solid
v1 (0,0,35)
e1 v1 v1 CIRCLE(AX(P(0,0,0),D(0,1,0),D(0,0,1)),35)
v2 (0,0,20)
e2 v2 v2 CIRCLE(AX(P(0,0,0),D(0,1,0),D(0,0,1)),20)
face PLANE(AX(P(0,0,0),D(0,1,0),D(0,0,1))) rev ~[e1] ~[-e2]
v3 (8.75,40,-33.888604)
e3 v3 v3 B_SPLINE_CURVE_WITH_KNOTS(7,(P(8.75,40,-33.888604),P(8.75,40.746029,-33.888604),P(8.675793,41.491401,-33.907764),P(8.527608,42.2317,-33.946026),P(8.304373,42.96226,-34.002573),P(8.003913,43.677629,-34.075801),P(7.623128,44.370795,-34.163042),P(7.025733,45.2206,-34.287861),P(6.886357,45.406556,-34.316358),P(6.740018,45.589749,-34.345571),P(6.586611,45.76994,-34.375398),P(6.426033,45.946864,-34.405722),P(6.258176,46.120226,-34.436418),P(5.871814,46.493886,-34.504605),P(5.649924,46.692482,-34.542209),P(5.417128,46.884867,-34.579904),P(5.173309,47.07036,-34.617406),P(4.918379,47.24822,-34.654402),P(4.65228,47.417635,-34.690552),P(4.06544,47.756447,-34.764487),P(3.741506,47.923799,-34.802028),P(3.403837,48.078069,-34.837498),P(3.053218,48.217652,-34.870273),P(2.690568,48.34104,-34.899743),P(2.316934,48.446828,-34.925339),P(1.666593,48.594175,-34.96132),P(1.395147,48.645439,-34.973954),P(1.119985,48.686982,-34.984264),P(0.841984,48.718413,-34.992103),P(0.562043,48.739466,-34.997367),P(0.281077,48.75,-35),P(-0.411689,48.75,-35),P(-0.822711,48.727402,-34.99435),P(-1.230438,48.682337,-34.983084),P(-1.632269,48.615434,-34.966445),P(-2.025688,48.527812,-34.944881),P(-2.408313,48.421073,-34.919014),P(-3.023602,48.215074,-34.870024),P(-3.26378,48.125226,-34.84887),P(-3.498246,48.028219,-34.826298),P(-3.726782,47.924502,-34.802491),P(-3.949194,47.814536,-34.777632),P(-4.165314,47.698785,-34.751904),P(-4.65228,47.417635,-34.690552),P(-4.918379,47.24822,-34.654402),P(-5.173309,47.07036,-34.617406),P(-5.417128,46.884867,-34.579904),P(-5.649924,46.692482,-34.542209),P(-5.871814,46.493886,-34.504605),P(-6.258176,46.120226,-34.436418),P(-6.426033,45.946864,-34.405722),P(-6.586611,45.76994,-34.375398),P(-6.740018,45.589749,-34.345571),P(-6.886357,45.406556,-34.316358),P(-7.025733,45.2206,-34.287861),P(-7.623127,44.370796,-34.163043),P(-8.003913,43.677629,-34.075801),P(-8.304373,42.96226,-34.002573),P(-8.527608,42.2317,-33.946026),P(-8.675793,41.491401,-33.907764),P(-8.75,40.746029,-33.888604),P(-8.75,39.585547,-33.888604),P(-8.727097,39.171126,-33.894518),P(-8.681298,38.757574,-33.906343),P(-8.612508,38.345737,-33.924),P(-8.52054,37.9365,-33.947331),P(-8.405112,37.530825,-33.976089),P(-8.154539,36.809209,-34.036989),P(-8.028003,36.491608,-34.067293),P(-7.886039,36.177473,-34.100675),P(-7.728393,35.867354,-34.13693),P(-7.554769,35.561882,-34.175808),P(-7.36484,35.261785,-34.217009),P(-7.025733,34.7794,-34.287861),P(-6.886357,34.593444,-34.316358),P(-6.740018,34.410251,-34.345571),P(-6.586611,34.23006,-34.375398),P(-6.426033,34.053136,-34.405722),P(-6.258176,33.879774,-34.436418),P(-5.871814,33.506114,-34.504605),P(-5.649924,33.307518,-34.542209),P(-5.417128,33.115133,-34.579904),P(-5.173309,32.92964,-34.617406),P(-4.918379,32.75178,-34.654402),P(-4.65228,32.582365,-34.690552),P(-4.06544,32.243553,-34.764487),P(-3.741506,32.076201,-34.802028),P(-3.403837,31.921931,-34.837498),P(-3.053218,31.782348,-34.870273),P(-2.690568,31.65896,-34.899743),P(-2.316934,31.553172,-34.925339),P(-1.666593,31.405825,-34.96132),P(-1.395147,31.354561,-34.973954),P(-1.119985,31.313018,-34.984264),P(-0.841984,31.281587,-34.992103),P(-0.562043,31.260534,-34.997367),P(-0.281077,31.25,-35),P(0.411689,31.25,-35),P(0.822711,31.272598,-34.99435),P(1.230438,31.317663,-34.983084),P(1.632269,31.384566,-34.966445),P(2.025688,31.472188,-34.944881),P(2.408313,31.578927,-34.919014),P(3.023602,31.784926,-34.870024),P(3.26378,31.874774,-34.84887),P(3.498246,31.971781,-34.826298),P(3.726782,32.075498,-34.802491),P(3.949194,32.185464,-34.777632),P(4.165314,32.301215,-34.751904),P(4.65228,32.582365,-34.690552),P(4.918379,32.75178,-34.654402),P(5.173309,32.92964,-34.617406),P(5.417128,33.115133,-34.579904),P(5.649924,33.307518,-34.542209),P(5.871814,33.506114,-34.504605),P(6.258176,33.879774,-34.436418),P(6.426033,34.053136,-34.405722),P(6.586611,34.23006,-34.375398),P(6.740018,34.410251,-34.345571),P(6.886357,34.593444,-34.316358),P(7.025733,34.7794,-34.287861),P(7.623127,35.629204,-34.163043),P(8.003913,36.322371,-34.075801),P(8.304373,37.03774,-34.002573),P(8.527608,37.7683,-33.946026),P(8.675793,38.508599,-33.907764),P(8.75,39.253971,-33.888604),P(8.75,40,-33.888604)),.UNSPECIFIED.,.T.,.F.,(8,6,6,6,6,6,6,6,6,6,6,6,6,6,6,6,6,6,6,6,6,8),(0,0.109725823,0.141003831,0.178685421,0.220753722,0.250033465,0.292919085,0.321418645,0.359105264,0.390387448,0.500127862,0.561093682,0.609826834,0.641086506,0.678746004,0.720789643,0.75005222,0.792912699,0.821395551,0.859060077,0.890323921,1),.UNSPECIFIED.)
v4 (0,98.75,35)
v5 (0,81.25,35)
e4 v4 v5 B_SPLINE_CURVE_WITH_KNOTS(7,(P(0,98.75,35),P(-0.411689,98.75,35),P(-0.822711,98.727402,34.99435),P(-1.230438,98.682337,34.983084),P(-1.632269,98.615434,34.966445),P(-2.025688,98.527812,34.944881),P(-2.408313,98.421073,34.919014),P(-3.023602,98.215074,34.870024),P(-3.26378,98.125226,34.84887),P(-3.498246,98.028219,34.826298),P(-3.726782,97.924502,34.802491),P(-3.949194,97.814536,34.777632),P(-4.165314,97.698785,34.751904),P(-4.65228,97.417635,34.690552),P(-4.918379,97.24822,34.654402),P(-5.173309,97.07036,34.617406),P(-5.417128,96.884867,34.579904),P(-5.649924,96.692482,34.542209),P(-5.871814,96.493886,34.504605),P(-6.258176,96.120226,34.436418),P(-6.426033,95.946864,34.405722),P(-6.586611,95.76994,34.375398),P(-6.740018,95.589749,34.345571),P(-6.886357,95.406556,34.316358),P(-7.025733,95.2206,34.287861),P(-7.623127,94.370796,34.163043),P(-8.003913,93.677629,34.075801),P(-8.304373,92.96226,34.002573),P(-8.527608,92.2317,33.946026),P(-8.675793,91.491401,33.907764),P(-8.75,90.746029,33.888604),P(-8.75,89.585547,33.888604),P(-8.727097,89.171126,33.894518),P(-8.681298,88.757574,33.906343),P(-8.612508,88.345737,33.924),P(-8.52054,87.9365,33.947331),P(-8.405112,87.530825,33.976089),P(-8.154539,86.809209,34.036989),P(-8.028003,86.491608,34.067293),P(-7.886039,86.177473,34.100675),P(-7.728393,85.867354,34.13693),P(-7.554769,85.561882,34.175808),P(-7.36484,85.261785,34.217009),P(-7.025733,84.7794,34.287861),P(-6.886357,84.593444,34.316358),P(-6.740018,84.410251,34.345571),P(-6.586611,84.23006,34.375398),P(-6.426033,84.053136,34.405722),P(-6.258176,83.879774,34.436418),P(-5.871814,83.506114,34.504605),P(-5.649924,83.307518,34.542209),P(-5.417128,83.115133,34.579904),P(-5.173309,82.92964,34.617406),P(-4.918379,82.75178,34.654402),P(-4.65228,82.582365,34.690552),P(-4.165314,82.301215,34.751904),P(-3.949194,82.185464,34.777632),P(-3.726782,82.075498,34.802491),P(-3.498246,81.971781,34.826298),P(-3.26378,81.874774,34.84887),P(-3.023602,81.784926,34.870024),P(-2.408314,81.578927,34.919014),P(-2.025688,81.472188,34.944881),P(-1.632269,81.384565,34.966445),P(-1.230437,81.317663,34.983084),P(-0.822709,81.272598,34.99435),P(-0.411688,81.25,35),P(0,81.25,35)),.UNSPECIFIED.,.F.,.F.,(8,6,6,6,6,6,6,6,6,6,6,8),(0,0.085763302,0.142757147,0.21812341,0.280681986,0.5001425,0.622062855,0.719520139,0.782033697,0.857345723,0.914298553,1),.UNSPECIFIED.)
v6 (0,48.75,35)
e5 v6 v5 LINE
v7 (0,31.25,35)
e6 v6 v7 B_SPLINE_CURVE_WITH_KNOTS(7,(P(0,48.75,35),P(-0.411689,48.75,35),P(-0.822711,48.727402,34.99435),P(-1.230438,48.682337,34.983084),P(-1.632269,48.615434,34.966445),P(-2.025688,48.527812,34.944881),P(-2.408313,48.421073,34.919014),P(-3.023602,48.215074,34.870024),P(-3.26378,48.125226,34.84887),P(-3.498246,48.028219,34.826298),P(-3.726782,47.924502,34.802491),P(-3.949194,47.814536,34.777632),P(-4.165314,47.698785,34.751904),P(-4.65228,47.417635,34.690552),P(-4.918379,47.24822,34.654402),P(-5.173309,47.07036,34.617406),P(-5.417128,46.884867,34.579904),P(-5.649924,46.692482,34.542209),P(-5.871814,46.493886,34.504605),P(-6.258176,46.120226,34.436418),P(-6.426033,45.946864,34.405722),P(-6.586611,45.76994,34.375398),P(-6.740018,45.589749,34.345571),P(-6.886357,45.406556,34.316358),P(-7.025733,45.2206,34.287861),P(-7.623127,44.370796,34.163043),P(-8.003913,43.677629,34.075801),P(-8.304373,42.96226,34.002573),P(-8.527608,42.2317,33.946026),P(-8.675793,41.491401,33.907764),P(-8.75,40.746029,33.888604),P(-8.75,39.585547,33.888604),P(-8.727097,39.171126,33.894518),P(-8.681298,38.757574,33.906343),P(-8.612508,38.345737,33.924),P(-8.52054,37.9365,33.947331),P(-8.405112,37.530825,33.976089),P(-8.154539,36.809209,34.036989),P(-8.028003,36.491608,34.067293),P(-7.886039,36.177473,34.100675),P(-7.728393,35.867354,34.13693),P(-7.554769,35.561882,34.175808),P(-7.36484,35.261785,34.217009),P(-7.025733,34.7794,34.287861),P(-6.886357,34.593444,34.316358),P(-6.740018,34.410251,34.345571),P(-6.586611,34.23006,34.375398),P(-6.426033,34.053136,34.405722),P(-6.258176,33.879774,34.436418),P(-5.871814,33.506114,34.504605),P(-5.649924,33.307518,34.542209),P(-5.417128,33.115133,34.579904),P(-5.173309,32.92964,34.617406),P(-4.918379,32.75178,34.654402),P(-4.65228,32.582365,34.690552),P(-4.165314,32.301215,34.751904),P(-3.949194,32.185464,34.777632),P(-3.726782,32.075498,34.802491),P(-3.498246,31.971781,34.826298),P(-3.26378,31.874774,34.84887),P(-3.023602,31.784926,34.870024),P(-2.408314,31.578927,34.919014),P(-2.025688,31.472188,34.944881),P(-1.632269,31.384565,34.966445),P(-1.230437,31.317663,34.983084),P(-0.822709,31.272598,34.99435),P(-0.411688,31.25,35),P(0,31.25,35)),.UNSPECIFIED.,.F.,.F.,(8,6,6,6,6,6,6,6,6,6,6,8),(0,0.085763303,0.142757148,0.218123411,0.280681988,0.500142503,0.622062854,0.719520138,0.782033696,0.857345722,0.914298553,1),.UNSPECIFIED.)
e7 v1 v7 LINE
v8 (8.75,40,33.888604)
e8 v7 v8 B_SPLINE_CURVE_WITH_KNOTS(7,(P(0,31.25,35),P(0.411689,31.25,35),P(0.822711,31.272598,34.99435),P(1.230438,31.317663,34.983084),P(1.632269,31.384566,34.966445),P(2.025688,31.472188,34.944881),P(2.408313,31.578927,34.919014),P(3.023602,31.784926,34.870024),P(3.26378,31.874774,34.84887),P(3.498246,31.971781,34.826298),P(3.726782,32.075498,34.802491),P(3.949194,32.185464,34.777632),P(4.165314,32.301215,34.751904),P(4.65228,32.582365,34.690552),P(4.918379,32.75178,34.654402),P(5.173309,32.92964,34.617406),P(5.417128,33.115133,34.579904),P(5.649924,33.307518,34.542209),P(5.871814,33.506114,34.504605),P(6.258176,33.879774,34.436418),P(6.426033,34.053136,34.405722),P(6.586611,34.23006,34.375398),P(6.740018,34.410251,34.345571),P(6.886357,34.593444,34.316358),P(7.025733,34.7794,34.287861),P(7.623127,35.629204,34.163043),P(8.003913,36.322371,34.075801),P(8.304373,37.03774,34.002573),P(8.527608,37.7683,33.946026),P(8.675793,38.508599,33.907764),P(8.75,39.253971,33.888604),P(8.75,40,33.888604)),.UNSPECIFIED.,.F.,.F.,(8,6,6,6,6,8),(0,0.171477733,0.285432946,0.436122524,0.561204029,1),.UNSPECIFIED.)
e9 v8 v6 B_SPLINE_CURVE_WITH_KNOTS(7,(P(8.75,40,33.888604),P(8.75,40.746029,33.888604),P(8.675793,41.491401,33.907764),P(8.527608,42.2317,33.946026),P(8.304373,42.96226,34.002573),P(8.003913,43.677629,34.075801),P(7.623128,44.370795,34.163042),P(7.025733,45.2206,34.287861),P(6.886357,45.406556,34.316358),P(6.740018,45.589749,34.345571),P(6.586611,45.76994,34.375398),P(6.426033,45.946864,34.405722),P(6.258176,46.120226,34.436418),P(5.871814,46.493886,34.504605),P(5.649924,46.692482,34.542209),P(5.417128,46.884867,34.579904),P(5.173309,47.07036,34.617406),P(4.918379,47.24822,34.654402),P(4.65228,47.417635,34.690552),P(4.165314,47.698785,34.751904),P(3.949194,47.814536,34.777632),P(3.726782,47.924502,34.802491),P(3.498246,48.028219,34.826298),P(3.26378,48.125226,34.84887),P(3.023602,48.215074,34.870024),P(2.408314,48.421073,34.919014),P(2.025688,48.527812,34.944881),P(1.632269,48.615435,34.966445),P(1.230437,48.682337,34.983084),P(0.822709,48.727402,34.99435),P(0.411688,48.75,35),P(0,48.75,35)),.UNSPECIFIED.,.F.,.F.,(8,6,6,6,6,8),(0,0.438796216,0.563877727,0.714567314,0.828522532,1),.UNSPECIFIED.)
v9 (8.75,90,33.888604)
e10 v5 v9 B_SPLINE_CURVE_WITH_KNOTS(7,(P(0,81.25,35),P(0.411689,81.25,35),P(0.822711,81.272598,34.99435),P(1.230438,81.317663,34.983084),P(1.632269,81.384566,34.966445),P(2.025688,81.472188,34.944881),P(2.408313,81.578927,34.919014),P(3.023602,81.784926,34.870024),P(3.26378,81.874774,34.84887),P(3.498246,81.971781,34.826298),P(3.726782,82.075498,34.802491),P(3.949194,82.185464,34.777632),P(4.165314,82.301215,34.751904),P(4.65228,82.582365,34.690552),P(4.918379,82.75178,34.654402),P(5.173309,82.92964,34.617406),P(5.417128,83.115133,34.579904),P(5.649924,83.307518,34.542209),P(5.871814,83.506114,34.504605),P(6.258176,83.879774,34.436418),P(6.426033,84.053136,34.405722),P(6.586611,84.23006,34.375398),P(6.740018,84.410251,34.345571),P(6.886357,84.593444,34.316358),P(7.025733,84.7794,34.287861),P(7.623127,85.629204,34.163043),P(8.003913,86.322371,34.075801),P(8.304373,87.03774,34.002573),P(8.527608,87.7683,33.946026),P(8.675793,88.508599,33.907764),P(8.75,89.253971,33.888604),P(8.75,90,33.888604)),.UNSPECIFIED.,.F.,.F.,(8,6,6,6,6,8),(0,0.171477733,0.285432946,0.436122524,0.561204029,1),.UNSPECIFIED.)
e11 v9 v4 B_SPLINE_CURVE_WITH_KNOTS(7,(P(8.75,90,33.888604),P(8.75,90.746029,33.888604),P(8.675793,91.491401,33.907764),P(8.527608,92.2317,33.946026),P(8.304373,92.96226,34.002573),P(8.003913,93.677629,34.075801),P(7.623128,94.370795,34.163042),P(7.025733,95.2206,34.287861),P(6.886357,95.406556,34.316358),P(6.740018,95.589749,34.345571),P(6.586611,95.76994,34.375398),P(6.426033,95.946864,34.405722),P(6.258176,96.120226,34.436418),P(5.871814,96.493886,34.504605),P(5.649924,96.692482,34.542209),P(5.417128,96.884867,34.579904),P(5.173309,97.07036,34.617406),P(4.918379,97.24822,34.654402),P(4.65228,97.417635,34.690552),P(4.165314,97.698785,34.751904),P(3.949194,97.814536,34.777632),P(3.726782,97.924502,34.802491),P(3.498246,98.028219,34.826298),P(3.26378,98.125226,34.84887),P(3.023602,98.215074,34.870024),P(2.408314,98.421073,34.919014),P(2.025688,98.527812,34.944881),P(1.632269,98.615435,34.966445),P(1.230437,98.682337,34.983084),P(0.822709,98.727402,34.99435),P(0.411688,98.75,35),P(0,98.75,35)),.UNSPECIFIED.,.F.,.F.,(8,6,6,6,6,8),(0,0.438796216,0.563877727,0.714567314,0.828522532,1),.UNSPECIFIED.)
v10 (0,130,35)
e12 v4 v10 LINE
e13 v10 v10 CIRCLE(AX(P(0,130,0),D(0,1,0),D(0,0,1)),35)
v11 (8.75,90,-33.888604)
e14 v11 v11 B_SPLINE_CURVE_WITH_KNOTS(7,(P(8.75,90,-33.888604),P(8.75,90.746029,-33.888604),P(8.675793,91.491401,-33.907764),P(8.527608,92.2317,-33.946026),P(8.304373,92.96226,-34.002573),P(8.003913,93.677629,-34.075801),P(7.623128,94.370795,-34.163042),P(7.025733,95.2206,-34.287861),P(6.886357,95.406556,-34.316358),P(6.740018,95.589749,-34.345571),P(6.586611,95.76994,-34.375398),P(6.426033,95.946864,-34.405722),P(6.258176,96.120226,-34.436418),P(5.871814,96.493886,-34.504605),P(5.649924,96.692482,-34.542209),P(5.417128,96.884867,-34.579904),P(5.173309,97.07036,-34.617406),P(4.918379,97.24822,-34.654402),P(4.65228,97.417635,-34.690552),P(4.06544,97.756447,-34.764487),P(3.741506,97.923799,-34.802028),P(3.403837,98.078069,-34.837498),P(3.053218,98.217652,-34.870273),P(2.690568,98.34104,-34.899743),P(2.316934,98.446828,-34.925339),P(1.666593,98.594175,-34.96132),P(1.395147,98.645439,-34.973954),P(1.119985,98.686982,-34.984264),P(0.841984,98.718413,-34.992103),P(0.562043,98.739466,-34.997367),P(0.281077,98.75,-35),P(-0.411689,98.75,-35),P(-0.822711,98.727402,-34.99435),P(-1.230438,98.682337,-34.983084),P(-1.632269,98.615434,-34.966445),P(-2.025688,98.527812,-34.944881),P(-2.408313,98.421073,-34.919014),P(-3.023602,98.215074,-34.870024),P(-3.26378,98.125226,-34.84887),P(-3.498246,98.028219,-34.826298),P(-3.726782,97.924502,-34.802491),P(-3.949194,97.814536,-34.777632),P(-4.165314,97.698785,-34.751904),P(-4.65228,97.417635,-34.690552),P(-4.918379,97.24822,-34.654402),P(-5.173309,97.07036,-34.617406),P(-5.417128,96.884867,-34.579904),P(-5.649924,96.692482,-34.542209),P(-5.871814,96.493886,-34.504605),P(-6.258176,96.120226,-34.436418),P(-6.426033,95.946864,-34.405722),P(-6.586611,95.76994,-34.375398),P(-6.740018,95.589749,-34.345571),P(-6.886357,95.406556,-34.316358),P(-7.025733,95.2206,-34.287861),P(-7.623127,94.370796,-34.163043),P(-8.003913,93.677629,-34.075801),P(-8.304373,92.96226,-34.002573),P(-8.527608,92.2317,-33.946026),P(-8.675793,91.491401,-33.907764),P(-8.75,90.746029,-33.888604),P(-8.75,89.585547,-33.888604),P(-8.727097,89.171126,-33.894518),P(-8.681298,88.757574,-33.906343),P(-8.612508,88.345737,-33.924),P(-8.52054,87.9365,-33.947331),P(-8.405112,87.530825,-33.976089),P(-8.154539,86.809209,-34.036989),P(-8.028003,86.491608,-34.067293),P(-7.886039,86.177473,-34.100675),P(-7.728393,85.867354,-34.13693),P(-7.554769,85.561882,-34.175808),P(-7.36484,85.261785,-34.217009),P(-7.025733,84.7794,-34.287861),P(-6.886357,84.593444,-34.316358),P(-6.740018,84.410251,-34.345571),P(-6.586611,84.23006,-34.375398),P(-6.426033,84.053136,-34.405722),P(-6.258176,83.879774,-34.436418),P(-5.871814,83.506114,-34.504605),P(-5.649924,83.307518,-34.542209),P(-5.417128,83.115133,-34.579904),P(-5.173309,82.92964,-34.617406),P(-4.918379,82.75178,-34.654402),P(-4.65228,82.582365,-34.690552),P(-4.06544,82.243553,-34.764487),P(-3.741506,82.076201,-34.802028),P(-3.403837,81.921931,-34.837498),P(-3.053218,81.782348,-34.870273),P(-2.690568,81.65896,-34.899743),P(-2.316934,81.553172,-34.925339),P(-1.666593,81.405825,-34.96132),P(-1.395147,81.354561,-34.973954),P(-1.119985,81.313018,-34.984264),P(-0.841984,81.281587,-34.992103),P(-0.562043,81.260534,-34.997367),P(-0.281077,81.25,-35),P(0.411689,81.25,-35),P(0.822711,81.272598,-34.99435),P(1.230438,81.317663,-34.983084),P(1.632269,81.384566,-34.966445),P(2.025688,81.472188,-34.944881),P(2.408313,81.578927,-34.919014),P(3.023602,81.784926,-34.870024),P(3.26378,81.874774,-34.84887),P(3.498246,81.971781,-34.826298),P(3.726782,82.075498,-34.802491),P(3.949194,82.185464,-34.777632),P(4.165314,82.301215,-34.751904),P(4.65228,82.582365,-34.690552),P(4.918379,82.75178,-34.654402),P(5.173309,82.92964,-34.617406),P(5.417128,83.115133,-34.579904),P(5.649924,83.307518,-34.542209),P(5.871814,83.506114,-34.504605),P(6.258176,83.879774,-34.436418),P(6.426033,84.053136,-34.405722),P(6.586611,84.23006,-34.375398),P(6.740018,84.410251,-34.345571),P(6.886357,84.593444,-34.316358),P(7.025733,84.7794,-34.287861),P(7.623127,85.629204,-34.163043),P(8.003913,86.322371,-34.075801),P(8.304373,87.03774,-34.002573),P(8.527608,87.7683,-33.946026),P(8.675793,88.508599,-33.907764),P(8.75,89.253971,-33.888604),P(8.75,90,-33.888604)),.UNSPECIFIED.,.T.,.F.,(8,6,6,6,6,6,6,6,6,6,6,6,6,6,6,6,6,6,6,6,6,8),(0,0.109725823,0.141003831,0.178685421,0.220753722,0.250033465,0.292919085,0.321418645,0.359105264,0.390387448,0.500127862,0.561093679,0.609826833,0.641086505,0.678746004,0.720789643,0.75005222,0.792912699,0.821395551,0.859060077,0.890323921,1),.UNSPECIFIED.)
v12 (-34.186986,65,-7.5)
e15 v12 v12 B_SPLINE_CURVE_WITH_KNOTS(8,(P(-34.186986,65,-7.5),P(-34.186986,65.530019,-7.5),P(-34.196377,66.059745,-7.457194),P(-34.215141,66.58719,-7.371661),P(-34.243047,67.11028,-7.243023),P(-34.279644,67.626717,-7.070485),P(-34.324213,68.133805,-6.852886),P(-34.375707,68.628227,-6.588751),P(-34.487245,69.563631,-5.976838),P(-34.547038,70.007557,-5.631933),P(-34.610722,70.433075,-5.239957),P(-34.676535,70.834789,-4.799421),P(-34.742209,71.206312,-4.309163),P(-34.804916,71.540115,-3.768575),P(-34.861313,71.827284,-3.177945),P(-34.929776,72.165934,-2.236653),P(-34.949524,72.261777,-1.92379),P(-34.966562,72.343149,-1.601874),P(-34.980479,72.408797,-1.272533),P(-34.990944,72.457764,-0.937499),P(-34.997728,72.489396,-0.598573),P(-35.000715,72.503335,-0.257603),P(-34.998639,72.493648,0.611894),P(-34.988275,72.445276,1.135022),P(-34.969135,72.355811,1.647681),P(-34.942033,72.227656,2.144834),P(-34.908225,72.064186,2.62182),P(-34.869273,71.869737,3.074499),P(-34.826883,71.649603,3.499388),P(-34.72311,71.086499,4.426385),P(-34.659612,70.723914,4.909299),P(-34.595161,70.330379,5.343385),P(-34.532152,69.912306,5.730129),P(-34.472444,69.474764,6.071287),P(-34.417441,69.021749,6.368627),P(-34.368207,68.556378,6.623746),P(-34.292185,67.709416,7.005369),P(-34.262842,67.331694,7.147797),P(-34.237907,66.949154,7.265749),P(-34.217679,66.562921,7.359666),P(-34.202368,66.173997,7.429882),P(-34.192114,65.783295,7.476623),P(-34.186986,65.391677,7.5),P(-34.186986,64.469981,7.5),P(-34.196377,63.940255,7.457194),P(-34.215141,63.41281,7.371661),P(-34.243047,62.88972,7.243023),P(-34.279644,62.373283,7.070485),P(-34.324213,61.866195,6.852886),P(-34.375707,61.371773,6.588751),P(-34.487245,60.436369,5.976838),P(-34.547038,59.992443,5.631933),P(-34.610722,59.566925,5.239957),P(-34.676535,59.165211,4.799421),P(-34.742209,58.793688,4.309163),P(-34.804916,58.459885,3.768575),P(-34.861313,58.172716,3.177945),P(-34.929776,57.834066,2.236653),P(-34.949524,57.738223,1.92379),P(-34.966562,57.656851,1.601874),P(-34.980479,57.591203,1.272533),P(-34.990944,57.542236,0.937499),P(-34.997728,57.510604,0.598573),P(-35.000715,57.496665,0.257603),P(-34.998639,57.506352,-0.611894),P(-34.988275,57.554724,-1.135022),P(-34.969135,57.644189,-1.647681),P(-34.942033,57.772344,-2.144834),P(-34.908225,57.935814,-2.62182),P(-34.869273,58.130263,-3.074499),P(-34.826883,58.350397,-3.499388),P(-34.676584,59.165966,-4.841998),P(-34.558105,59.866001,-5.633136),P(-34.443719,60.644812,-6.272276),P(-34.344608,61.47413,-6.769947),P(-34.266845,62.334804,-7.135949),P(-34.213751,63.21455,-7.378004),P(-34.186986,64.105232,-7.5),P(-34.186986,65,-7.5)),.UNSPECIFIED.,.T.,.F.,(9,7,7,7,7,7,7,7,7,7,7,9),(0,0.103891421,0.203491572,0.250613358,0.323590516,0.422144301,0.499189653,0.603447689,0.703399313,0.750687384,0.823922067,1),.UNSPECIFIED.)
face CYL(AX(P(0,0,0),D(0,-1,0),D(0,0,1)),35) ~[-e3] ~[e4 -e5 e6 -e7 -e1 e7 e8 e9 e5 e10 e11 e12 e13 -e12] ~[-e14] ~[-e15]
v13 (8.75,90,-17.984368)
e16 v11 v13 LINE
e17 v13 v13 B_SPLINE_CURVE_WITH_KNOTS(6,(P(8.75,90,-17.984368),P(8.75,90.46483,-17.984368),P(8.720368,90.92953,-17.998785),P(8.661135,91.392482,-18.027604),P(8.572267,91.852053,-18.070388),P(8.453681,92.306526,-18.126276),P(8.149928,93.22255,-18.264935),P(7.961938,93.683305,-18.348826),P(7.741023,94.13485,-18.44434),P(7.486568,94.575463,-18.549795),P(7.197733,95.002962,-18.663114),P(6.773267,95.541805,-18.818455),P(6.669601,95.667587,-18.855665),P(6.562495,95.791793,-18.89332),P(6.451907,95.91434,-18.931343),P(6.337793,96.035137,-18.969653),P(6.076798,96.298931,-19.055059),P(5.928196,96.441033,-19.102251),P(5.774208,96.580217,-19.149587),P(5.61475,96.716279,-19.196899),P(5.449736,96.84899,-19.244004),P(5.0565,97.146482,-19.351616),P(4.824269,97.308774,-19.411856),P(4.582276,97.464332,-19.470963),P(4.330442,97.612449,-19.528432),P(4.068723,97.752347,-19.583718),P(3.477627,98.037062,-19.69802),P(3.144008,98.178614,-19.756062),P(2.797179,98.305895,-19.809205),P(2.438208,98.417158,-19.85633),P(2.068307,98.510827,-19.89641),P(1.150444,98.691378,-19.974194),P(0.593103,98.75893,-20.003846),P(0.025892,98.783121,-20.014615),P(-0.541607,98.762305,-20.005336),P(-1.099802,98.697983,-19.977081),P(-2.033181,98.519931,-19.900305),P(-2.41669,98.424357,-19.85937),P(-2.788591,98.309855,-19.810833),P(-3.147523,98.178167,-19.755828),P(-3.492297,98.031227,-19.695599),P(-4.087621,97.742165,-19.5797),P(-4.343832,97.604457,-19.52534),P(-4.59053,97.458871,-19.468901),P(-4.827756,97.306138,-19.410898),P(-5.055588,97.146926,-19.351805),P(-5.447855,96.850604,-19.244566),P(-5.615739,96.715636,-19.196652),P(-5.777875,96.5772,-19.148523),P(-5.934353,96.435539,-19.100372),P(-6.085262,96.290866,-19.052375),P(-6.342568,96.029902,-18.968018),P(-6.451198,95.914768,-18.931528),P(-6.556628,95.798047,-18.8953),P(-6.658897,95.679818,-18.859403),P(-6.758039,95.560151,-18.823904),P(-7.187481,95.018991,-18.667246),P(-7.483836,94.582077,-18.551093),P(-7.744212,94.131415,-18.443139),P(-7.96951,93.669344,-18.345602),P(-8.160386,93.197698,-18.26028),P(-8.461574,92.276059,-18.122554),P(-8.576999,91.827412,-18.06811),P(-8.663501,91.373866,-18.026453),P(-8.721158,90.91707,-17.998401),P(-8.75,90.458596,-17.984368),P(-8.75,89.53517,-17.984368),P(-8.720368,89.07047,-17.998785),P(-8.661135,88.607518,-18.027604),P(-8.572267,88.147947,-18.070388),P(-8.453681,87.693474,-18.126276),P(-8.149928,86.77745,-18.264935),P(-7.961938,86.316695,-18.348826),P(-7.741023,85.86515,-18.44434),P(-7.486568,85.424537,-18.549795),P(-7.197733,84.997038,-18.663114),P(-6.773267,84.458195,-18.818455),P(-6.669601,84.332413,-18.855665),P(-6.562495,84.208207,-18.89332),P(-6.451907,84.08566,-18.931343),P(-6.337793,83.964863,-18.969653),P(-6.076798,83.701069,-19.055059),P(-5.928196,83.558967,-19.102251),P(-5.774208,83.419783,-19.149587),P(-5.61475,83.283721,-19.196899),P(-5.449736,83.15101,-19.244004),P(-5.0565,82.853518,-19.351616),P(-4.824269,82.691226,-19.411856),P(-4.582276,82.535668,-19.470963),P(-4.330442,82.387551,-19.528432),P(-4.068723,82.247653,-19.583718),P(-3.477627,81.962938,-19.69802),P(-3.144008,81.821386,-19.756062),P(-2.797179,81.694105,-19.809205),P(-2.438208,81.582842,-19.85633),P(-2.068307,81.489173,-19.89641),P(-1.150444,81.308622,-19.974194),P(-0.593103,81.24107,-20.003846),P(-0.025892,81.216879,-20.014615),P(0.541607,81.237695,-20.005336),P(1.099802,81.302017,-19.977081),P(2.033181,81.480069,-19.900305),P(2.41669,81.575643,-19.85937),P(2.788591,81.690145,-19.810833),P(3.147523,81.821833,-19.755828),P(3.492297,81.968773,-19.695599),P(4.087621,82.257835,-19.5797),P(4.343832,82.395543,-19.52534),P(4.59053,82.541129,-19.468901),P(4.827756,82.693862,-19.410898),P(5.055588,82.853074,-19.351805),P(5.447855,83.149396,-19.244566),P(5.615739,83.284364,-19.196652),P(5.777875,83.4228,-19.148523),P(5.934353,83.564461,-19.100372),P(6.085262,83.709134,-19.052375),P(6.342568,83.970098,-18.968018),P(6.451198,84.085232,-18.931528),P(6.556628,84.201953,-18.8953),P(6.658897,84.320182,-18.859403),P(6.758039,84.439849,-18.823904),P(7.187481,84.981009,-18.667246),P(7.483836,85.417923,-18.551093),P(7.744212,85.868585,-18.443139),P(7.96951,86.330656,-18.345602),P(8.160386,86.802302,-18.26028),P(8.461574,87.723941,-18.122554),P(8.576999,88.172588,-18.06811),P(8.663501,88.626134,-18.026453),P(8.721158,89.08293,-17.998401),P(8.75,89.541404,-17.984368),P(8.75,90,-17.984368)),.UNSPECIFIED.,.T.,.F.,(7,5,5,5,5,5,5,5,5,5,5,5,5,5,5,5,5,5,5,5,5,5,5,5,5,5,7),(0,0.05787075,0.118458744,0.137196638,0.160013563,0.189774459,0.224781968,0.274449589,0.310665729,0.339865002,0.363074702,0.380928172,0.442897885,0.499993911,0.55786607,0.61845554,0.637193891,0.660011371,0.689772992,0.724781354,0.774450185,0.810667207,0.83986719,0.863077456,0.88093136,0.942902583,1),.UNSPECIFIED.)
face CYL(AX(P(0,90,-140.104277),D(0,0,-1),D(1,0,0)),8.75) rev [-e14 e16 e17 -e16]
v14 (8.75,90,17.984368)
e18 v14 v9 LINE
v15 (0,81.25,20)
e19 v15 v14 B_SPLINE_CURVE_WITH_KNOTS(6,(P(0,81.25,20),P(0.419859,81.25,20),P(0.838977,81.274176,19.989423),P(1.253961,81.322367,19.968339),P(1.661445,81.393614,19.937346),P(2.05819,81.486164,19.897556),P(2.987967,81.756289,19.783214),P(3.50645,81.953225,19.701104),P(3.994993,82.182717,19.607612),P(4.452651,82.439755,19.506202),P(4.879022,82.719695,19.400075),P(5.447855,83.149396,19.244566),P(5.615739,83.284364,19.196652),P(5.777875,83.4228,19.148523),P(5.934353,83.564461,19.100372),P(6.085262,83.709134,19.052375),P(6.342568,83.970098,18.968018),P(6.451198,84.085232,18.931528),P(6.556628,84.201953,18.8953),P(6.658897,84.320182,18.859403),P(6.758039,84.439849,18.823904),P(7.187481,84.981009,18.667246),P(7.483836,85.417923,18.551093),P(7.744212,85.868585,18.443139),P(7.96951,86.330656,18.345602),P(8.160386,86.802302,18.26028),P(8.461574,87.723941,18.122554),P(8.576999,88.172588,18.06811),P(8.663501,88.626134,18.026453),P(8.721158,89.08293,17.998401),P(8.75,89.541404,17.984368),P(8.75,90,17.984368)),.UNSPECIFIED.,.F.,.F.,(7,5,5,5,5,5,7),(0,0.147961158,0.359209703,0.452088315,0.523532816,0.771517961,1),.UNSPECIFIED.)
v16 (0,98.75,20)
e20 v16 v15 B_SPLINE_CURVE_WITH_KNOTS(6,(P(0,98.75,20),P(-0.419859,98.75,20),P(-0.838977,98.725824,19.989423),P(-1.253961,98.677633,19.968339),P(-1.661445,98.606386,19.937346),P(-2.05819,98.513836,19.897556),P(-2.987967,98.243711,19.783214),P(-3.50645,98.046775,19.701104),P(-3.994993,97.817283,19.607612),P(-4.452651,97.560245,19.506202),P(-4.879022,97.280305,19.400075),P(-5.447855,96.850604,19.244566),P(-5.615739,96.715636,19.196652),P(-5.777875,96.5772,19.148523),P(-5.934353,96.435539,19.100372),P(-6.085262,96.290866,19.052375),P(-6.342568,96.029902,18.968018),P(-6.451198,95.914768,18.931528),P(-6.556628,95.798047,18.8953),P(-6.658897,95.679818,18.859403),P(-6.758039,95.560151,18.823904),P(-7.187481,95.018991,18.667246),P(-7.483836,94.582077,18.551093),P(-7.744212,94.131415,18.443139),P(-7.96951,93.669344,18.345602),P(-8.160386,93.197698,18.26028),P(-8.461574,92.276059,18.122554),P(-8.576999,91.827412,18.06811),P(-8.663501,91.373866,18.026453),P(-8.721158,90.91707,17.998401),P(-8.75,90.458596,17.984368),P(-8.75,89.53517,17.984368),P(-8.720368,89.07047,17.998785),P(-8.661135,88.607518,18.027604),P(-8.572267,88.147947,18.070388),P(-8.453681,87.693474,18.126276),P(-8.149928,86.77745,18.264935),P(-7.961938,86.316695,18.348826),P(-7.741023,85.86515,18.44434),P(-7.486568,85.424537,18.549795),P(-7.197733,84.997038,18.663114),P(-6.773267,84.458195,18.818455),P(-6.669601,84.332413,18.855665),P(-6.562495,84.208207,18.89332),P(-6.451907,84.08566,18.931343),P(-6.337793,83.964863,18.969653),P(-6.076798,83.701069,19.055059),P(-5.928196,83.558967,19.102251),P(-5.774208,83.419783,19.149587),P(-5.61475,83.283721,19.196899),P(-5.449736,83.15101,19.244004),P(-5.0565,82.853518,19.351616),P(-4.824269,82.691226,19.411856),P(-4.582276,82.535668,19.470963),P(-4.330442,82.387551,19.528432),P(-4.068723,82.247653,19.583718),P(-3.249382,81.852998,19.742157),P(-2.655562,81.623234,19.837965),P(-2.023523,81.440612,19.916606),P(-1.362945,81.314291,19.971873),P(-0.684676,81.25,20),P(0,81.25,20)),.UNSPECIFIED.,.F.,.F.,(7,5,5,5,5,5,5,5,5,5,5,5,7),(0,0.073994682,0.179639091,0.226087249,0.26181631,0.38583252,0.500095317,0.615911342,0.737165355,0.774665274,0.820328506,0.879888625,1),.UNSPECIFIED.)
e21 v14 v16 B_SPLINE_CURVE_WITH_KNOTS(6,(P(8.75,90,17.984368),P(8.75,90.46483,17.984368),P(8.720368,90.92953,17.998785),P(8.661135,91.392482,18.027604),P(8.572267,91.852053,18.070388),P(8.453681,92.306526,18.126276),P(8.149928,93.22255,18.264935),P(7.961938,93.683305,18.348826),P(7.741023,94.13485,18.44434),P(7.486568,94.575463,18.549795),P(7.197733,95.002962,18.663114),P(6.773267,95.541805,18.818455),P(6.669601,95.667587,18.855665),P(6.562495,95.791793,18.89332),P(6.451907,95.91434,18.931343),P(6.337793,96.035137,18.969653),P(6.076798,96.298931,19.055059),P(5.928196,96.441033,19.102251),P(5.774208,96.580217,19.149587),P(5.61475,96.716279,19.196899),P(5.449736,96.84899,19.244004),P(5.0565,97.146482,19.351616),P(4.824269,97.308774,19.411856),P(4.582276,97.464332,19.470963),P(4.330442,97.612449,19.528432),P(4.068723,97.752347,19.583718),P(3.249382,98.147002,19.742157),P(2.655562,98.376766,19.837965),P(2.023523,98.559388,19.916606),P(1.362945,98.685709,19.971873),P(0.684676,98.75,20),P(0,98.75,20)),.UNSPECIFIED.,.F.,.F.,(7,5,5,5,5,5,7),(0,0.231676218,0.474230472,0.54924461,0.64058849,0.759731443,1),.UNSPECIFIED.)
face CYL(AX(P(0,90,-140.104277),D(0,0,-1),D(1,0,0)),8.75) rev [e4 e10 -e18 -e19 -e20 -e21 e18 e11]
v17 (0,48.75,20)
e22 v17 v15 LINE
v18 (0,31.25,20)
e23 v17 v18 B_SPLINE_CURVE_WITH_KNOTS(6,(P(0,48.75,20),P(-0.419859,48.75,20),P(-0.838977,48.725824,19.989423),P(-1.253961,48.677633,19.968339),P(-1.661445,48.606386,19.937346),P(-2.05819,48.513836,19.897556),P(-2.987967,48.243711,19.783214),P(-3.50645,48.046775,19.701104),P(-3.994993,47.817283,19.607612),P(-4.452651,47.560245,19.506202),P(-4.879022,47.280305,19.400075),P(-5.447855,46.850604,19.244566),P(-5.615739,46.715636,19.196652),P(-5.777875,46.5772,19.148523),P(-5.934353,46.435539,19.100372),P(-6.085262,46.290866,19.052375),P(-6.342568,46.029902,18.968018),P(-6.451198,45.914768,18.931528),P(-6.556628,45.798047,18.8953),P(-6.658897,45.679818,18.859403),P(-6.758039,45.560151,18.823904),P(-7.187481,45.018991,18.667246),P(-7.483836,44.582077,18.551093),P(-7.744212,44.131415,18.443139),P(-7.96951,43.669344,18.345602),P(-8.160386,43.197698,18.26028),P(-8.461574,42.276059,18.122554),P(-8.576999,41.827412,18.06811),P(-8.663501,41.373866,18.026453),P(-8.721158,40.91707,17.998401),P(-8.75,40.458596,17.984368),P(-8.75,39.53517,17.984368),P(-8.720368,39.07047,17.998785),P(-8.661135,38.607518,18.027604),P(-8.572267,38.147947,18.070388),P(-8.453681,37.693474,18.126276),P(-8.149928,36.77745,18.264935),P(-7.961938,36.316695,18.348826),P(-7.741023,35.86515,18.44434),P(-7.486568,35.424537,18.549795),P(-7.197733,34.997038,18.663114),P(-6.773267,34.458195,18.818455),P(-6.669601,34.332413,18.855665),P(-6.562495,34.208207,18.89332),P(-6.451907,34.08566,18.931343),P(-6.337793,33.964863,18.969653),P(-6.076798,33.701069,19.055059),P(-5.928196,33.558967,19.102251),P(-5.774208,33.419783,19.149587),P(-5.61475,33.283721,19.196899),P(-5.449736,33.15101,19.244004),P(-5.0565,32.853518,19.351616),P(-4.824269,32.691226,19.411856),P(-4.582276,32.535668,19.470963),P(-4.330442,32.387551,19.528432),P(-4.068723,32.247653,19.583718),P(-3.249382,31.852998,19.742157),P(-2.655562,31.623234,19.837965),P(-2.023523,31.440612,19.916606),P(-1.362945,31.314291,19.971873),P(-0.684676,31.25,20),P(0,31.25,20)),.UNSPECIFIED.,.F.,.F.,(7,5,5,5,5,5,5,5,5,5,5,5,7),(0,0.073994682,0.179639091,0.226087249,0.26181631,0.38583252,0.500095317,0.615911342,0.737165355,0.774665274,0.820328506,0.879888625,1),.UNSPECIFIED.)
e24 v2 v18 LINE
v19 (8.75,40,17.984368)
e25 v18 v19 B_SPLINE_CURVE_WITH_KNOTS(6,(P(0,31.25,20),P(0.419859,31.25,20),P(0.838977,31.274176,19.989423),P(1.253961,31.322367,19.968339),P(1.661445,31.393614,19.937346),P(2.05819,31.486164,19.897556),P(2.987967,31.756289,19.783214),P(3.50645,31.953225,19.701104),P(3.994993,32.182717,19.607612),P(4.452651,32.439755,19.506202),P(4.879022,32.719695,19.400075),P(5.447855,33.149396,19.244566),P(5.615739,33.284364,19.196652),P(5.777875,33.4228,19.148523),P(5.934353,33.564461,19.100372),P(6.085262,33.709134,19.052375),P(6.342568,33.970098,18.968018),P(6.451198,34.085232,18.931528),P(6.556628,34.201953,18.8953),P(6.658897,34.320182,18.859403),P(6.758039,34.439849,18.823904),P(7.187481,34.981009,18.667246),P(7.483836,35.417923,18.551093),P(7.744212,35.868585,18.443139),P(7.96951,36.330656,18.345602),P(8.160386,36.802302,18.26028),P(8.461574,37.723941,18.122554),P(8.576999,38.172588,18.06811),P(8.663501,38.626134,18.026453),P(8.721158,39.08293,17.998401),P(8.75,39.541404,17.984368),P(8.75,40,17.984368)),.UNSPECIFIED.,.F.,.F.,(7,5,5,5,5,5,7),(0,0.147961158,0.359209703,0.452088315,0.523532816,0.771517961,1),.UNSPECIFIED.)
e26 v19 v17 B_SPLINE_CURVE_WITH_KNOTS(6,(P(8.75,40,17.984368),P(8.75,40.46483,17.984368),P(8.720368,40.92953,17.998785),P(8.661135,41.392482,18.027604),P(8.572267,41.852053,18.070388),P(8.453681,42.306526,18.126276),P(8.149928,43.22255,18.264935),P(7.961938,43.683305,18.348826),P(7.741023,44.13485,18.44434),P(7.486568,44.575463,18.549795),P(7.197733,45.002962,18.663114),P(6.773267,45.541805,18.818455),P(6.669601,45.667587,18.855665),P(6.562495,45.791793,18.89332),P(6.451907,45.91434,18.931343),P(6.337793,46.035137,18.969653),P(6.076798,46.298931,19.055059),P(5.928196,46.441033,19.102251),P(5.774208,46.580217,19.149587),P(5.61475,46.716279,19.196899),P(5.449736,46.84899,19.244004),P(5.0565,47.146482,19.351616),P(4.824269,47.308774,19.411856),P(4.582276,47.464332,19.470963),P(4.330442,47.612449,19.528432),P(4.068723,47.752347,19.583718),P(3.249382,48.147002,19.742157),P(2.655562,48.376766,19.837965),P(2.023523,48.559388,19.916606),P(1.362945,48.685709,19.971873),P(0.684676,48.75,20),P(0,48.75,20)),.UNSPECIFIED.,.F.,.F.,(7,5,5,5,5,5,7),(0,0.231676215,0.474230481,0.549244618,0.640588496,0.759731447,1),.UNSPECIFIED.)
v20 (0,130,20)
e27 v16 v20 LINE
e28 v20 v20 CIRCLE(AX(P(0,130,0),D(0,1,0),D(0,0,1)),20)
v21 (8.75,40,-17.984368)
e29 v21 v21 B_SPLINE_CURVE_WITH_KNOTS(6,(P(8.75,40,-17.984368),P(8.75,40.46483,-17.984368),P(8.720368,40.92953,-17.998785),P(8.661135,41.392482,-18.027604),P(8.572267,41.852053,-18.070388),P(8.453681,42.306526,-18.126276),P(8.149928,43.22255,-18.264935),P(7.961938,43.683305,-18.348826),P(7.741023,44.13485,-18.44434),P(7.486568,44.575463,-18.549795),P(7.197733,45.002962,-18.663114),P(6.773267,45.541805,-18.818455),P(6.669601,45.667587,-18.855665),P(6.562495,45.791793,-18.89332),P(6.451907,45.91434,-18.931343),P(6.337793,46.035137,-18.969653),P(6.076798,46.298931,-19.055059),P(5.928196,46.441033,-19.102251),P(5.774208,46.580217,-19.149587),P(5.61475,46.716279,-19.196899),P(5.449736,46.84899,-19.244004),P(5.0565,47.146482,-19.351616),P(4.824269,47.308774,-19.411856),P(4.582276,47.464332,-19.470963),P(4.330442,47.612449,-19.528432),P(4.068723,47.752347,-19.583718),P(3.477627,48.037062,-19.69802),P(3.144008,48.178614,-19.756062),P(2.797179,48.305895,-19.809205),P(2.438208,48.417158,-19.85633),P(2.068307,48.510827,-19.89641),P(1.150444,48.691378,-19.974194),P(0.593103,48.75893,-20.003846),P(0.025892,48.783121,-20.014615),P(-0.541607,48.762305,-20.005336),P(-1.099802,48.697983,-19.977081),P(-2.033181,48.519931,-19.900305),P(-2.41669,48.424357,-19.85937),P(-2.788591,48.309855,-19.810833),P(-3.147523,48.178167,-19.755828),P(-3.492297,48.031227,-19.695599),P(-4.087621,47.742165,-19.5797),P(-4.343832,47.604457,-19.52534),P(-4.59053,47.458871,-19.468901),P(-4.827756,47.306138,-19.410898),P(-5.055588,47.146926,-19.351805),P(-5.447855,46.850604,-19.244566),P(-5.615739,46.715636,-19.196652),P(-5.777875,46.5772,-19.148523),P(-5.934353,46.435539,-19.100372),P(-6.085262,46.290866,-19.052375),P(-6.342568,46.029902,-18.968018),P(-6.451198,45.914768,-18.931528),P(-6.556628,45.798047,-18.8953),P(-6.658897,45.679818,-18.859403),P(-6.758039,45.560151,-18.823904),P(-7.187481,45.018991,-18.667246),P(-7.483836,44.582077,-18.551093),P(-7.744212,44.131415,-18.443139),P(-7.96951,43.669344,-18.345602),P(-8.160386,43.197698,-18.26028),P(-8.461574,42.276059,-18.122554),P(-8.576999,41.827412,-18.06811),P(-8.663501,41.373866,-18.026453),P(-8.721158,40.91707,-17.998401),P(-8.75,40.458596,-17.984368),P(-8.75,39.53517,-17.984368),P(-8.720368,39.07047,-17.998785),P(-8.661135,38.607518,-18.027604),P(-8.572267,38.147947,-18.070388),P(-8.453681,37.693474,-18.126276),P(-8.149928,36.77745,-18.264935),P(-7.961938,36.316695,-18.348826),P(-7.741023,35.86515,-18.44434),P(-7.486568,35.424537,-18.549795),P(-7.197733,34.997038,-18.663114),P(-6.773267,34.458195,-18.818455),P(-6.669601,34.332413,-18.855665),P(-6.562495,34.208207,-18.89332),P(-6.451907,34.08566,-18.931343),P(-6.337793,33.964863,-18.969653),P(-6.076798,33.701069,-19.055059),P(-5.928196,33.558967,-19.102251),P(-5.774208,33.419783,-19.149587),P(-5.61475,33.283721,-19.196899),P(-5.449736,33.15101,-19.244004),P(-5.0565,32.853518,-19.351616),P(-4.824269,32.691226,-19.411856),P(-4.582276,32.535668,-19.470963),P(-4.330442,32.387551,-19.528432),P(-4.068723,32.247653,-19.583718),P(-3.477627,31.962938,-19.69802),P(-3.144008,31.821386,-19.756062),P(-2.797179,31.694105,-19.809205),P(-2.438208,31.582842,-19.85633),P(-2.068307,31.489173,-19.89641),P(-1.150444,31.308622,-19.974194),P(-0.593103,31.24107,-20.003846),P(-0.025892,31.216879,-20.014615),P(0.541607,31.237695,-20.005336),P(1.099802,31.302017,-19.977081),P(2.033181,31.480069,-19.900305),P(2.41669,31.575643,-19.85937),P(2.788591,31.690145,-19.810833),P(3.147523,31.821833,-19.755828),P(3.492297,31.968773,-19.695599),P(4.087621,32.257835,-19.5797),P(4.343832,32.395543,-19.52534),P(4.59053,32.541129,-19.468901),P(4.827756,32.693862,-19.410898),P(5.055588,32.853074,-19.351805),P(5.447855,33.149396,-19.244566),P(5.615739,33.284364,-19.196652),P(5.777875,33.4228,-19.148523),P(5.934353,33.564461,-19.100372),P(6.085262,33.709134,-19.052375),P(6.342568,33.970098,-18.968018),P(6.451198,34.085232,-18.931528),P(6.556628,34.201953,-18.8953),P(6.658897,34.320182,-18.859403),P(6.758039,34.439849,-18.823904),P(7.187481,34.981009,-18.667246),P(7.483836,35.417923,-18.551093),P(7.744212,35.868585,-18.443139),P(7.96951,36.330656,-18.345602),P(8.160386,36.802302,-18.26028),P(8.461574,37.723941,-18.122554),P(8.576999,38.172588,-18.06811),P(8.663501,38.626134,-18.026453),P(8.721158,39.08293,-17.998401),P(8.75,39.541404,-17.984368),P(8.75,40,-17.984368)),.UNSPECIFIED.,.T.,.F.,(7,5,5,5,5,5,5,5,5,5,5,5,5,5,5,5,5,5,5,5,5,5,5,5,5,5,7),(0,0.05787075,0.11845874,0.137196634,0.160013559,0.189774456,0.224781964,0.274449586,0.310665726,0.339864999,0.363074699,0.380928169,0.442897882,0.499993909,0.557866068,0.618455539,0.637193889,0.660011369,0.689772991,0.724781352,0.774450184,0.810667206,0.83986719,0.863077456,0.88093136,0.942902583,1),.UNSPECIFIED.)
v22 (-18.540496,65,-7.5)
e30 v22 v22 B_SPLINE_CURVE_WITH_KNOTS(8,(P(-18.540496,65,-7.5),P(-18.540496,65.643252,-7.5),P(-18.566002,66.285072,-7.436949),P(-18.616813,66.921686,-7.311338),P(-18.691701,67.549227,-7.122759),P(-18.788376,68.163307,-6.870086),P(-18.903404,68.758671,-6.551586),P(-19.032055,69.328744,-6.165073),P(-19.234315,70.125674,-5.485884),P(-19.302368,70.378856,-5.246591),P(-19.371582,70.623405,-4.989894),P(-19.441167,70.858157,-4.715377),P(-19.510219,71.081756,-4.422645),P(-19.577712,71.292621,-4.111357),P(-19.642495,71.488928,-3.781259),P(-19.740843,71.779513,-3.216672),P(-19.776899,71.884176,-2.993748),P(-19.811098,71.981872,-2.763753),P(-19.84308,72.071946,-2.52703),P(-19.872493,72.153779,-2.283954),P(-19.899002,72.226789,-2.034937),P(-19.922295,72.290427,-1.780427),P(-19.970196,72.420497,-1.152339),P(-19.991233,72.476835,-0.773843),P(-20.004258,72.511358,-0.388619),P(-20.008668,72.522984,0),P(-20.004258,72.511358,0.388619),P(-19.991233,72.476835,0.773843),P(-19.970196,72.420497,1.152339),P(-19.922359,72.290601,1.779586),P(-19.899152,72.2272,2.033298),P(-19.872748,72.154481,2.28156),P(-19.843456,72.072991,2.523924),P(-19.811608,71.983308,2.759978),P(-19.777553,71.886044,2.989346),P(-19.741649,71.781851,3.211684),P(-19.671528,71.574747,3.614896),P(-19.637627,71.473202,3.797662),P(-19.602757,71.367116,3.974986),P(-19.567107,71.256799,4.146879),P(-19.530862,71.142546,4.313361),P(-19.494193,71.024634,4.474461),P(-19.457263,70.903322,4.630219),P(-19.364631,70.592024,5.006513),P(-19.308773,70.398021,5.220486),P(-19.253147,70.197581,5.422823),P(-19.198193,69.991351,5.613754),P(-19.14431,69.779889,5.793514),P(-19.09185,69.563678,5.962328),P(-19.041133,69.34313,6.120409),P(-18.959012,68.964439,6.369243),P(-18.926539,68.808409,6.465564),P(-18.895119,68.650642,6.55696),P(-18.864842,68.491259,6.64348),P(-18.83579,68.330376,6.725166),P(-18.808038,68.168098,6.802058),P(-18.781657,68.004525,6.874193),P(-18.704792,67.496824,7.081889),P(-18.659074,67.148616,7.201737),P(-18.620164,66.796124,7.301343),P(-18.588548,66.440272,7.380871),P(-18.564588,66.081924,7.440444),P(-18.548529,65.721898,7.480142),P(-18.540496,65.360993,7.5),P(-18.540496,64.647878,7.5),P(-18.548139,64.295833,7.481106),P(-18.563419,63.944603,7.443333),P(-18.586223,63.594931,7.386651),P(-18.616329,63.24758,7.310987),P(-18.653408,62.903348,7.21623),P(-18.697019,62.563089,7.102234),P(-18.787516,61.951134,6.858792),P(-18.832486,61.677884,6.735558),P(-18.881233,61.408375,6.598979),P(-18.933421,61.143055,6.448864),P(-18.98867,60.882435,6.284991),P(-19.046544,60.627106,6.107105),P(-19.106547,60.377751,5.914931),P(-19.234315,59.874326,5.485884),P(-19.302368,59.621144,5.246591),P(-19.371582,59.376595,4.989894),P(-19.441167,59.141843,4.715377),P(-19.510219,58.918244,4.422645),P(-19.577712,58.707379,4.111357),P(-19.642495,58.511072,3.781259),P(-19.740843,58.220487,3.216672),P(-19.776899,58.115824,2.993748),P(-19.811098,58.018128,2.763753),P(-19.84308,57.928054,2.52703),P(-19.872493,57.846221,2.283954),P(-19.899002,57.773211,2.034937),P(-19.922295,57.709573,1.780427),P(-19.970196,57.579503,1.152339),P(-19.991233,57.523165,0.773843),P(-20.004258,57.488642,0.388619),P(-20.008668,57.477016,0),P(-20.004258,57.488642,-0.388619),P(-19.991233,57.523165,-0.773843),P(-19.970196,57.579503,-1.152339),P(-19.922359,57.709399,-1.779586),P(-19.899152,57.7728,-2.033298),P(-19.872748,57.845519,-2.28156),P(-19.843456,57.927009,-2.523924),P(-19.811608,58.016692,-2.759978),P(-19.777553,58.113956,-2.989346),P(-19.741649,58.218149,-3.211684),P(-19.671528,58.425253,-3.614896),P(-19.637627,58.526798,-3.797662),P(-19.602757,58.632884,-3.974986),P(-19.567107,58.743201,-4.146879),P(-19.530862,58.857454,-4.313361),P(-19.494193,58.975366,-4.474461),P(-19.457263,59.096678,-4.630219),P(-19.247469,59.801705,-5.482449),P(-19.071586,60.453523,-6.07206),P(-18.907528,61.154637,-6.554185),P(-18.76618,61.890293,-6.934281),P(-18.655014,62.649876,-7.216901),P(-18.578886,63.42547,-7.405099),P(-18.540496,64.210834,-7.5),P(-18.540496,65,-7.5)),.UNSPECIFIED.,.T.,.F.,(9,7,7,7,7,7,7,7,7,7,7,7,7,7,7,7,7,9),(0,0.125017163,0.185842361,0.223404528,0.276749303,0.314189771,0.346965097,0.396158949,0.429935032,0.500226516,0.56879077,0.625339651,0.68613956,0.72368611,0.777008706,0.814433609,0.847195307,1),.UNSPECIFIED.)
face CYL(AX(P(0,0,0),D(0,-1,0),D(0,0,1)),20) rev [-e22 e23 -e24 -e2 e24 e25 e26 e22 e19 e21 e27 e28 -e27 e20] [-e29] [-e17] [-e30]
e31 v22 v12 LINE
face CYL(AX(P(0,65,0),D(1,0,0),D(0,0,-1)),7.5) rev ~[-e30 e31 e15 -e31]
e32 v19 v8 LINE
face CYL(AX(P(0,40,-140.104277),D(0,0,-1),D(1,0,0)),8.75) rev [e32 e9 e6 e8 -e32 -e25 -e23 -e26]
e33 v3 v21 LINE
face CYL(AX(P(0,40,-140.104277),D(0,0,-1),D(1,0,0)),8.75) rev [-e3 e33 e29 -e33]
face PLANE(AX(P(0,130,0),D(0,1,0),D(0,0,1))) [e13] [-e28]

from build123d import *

# Parameters (mm, degrees)
ESQUISSE1_R                  = 35
ESQUISSE1_R_2                = 20
BOSS_EXTRU_1_DEPTH           = 130
ENL_V_MAT_EXTRU_1_DEPTH      = 140.104277432
ENL_V_MAT_EXTRU_1_DEPTH_BACK = 140.104277432
ESQUISSE2_R                  = 8.75
ESQUISSE4_R                  = 7.5
ENL_V_MAT_EXTRU_2_DEPTH      = 140.104277576


with BuildPart() as part:
    # Esquisse1 → Boss.-Extru.1 (new body)
    with BuildSketch(Plane(origin=(0, 0, 0), x_dir=(1, 0, 0), z_dir=(0, 1, 0))):
        with Locations(Location((0, 0, 0), (0, 0, 270))):
            Circle(ESQUISSE1_R)
        with Locations(Location((0, 0, 0), (0, 0, 270))):
            Circle(ESQUISSE1_R_2, mode=Mode.SUBTRACT)
    extrude(amount=BOSS_EXTRU_1_DEPTH)

    # Esquisse2 → Enlèv. mat.-Extru.1 (cut, two sides: drawn at the far end of the back side and taken through both)
    with BuildSketch(Plane.XY.offset(-ENL_V_MAT_EXTRU_1_DEPTH_BACK)):
        with Locations((0, 90)):
            Circle(ESQUISSE2_R)
        with Locations((0, 40)):
            Circle(ESQUISSE2_R)
    extrude(amount=ENL_V_MAT_EXTRU_1_DEPTH + ENL_V_MAT_EXTRU_1_DEPTH_BACK, mode=Mode.SUBTRACT)

    # Esquisse4 → Enlèv. mat.-Extru.2 (cut, through all)
    with BuildSketch(Plane(origin=(0, 0, 0), x_dir=(0, 0, -1), z_dir=(1, 0, 0))):
        with Locations((0, 65)):
            Circle(ESQUISSE4_R)
    extrude(amount=-ENL_V_MAT_EXTRU_2_DEPTH, mode=Mode.SUBTRACT)


solid = part.part
